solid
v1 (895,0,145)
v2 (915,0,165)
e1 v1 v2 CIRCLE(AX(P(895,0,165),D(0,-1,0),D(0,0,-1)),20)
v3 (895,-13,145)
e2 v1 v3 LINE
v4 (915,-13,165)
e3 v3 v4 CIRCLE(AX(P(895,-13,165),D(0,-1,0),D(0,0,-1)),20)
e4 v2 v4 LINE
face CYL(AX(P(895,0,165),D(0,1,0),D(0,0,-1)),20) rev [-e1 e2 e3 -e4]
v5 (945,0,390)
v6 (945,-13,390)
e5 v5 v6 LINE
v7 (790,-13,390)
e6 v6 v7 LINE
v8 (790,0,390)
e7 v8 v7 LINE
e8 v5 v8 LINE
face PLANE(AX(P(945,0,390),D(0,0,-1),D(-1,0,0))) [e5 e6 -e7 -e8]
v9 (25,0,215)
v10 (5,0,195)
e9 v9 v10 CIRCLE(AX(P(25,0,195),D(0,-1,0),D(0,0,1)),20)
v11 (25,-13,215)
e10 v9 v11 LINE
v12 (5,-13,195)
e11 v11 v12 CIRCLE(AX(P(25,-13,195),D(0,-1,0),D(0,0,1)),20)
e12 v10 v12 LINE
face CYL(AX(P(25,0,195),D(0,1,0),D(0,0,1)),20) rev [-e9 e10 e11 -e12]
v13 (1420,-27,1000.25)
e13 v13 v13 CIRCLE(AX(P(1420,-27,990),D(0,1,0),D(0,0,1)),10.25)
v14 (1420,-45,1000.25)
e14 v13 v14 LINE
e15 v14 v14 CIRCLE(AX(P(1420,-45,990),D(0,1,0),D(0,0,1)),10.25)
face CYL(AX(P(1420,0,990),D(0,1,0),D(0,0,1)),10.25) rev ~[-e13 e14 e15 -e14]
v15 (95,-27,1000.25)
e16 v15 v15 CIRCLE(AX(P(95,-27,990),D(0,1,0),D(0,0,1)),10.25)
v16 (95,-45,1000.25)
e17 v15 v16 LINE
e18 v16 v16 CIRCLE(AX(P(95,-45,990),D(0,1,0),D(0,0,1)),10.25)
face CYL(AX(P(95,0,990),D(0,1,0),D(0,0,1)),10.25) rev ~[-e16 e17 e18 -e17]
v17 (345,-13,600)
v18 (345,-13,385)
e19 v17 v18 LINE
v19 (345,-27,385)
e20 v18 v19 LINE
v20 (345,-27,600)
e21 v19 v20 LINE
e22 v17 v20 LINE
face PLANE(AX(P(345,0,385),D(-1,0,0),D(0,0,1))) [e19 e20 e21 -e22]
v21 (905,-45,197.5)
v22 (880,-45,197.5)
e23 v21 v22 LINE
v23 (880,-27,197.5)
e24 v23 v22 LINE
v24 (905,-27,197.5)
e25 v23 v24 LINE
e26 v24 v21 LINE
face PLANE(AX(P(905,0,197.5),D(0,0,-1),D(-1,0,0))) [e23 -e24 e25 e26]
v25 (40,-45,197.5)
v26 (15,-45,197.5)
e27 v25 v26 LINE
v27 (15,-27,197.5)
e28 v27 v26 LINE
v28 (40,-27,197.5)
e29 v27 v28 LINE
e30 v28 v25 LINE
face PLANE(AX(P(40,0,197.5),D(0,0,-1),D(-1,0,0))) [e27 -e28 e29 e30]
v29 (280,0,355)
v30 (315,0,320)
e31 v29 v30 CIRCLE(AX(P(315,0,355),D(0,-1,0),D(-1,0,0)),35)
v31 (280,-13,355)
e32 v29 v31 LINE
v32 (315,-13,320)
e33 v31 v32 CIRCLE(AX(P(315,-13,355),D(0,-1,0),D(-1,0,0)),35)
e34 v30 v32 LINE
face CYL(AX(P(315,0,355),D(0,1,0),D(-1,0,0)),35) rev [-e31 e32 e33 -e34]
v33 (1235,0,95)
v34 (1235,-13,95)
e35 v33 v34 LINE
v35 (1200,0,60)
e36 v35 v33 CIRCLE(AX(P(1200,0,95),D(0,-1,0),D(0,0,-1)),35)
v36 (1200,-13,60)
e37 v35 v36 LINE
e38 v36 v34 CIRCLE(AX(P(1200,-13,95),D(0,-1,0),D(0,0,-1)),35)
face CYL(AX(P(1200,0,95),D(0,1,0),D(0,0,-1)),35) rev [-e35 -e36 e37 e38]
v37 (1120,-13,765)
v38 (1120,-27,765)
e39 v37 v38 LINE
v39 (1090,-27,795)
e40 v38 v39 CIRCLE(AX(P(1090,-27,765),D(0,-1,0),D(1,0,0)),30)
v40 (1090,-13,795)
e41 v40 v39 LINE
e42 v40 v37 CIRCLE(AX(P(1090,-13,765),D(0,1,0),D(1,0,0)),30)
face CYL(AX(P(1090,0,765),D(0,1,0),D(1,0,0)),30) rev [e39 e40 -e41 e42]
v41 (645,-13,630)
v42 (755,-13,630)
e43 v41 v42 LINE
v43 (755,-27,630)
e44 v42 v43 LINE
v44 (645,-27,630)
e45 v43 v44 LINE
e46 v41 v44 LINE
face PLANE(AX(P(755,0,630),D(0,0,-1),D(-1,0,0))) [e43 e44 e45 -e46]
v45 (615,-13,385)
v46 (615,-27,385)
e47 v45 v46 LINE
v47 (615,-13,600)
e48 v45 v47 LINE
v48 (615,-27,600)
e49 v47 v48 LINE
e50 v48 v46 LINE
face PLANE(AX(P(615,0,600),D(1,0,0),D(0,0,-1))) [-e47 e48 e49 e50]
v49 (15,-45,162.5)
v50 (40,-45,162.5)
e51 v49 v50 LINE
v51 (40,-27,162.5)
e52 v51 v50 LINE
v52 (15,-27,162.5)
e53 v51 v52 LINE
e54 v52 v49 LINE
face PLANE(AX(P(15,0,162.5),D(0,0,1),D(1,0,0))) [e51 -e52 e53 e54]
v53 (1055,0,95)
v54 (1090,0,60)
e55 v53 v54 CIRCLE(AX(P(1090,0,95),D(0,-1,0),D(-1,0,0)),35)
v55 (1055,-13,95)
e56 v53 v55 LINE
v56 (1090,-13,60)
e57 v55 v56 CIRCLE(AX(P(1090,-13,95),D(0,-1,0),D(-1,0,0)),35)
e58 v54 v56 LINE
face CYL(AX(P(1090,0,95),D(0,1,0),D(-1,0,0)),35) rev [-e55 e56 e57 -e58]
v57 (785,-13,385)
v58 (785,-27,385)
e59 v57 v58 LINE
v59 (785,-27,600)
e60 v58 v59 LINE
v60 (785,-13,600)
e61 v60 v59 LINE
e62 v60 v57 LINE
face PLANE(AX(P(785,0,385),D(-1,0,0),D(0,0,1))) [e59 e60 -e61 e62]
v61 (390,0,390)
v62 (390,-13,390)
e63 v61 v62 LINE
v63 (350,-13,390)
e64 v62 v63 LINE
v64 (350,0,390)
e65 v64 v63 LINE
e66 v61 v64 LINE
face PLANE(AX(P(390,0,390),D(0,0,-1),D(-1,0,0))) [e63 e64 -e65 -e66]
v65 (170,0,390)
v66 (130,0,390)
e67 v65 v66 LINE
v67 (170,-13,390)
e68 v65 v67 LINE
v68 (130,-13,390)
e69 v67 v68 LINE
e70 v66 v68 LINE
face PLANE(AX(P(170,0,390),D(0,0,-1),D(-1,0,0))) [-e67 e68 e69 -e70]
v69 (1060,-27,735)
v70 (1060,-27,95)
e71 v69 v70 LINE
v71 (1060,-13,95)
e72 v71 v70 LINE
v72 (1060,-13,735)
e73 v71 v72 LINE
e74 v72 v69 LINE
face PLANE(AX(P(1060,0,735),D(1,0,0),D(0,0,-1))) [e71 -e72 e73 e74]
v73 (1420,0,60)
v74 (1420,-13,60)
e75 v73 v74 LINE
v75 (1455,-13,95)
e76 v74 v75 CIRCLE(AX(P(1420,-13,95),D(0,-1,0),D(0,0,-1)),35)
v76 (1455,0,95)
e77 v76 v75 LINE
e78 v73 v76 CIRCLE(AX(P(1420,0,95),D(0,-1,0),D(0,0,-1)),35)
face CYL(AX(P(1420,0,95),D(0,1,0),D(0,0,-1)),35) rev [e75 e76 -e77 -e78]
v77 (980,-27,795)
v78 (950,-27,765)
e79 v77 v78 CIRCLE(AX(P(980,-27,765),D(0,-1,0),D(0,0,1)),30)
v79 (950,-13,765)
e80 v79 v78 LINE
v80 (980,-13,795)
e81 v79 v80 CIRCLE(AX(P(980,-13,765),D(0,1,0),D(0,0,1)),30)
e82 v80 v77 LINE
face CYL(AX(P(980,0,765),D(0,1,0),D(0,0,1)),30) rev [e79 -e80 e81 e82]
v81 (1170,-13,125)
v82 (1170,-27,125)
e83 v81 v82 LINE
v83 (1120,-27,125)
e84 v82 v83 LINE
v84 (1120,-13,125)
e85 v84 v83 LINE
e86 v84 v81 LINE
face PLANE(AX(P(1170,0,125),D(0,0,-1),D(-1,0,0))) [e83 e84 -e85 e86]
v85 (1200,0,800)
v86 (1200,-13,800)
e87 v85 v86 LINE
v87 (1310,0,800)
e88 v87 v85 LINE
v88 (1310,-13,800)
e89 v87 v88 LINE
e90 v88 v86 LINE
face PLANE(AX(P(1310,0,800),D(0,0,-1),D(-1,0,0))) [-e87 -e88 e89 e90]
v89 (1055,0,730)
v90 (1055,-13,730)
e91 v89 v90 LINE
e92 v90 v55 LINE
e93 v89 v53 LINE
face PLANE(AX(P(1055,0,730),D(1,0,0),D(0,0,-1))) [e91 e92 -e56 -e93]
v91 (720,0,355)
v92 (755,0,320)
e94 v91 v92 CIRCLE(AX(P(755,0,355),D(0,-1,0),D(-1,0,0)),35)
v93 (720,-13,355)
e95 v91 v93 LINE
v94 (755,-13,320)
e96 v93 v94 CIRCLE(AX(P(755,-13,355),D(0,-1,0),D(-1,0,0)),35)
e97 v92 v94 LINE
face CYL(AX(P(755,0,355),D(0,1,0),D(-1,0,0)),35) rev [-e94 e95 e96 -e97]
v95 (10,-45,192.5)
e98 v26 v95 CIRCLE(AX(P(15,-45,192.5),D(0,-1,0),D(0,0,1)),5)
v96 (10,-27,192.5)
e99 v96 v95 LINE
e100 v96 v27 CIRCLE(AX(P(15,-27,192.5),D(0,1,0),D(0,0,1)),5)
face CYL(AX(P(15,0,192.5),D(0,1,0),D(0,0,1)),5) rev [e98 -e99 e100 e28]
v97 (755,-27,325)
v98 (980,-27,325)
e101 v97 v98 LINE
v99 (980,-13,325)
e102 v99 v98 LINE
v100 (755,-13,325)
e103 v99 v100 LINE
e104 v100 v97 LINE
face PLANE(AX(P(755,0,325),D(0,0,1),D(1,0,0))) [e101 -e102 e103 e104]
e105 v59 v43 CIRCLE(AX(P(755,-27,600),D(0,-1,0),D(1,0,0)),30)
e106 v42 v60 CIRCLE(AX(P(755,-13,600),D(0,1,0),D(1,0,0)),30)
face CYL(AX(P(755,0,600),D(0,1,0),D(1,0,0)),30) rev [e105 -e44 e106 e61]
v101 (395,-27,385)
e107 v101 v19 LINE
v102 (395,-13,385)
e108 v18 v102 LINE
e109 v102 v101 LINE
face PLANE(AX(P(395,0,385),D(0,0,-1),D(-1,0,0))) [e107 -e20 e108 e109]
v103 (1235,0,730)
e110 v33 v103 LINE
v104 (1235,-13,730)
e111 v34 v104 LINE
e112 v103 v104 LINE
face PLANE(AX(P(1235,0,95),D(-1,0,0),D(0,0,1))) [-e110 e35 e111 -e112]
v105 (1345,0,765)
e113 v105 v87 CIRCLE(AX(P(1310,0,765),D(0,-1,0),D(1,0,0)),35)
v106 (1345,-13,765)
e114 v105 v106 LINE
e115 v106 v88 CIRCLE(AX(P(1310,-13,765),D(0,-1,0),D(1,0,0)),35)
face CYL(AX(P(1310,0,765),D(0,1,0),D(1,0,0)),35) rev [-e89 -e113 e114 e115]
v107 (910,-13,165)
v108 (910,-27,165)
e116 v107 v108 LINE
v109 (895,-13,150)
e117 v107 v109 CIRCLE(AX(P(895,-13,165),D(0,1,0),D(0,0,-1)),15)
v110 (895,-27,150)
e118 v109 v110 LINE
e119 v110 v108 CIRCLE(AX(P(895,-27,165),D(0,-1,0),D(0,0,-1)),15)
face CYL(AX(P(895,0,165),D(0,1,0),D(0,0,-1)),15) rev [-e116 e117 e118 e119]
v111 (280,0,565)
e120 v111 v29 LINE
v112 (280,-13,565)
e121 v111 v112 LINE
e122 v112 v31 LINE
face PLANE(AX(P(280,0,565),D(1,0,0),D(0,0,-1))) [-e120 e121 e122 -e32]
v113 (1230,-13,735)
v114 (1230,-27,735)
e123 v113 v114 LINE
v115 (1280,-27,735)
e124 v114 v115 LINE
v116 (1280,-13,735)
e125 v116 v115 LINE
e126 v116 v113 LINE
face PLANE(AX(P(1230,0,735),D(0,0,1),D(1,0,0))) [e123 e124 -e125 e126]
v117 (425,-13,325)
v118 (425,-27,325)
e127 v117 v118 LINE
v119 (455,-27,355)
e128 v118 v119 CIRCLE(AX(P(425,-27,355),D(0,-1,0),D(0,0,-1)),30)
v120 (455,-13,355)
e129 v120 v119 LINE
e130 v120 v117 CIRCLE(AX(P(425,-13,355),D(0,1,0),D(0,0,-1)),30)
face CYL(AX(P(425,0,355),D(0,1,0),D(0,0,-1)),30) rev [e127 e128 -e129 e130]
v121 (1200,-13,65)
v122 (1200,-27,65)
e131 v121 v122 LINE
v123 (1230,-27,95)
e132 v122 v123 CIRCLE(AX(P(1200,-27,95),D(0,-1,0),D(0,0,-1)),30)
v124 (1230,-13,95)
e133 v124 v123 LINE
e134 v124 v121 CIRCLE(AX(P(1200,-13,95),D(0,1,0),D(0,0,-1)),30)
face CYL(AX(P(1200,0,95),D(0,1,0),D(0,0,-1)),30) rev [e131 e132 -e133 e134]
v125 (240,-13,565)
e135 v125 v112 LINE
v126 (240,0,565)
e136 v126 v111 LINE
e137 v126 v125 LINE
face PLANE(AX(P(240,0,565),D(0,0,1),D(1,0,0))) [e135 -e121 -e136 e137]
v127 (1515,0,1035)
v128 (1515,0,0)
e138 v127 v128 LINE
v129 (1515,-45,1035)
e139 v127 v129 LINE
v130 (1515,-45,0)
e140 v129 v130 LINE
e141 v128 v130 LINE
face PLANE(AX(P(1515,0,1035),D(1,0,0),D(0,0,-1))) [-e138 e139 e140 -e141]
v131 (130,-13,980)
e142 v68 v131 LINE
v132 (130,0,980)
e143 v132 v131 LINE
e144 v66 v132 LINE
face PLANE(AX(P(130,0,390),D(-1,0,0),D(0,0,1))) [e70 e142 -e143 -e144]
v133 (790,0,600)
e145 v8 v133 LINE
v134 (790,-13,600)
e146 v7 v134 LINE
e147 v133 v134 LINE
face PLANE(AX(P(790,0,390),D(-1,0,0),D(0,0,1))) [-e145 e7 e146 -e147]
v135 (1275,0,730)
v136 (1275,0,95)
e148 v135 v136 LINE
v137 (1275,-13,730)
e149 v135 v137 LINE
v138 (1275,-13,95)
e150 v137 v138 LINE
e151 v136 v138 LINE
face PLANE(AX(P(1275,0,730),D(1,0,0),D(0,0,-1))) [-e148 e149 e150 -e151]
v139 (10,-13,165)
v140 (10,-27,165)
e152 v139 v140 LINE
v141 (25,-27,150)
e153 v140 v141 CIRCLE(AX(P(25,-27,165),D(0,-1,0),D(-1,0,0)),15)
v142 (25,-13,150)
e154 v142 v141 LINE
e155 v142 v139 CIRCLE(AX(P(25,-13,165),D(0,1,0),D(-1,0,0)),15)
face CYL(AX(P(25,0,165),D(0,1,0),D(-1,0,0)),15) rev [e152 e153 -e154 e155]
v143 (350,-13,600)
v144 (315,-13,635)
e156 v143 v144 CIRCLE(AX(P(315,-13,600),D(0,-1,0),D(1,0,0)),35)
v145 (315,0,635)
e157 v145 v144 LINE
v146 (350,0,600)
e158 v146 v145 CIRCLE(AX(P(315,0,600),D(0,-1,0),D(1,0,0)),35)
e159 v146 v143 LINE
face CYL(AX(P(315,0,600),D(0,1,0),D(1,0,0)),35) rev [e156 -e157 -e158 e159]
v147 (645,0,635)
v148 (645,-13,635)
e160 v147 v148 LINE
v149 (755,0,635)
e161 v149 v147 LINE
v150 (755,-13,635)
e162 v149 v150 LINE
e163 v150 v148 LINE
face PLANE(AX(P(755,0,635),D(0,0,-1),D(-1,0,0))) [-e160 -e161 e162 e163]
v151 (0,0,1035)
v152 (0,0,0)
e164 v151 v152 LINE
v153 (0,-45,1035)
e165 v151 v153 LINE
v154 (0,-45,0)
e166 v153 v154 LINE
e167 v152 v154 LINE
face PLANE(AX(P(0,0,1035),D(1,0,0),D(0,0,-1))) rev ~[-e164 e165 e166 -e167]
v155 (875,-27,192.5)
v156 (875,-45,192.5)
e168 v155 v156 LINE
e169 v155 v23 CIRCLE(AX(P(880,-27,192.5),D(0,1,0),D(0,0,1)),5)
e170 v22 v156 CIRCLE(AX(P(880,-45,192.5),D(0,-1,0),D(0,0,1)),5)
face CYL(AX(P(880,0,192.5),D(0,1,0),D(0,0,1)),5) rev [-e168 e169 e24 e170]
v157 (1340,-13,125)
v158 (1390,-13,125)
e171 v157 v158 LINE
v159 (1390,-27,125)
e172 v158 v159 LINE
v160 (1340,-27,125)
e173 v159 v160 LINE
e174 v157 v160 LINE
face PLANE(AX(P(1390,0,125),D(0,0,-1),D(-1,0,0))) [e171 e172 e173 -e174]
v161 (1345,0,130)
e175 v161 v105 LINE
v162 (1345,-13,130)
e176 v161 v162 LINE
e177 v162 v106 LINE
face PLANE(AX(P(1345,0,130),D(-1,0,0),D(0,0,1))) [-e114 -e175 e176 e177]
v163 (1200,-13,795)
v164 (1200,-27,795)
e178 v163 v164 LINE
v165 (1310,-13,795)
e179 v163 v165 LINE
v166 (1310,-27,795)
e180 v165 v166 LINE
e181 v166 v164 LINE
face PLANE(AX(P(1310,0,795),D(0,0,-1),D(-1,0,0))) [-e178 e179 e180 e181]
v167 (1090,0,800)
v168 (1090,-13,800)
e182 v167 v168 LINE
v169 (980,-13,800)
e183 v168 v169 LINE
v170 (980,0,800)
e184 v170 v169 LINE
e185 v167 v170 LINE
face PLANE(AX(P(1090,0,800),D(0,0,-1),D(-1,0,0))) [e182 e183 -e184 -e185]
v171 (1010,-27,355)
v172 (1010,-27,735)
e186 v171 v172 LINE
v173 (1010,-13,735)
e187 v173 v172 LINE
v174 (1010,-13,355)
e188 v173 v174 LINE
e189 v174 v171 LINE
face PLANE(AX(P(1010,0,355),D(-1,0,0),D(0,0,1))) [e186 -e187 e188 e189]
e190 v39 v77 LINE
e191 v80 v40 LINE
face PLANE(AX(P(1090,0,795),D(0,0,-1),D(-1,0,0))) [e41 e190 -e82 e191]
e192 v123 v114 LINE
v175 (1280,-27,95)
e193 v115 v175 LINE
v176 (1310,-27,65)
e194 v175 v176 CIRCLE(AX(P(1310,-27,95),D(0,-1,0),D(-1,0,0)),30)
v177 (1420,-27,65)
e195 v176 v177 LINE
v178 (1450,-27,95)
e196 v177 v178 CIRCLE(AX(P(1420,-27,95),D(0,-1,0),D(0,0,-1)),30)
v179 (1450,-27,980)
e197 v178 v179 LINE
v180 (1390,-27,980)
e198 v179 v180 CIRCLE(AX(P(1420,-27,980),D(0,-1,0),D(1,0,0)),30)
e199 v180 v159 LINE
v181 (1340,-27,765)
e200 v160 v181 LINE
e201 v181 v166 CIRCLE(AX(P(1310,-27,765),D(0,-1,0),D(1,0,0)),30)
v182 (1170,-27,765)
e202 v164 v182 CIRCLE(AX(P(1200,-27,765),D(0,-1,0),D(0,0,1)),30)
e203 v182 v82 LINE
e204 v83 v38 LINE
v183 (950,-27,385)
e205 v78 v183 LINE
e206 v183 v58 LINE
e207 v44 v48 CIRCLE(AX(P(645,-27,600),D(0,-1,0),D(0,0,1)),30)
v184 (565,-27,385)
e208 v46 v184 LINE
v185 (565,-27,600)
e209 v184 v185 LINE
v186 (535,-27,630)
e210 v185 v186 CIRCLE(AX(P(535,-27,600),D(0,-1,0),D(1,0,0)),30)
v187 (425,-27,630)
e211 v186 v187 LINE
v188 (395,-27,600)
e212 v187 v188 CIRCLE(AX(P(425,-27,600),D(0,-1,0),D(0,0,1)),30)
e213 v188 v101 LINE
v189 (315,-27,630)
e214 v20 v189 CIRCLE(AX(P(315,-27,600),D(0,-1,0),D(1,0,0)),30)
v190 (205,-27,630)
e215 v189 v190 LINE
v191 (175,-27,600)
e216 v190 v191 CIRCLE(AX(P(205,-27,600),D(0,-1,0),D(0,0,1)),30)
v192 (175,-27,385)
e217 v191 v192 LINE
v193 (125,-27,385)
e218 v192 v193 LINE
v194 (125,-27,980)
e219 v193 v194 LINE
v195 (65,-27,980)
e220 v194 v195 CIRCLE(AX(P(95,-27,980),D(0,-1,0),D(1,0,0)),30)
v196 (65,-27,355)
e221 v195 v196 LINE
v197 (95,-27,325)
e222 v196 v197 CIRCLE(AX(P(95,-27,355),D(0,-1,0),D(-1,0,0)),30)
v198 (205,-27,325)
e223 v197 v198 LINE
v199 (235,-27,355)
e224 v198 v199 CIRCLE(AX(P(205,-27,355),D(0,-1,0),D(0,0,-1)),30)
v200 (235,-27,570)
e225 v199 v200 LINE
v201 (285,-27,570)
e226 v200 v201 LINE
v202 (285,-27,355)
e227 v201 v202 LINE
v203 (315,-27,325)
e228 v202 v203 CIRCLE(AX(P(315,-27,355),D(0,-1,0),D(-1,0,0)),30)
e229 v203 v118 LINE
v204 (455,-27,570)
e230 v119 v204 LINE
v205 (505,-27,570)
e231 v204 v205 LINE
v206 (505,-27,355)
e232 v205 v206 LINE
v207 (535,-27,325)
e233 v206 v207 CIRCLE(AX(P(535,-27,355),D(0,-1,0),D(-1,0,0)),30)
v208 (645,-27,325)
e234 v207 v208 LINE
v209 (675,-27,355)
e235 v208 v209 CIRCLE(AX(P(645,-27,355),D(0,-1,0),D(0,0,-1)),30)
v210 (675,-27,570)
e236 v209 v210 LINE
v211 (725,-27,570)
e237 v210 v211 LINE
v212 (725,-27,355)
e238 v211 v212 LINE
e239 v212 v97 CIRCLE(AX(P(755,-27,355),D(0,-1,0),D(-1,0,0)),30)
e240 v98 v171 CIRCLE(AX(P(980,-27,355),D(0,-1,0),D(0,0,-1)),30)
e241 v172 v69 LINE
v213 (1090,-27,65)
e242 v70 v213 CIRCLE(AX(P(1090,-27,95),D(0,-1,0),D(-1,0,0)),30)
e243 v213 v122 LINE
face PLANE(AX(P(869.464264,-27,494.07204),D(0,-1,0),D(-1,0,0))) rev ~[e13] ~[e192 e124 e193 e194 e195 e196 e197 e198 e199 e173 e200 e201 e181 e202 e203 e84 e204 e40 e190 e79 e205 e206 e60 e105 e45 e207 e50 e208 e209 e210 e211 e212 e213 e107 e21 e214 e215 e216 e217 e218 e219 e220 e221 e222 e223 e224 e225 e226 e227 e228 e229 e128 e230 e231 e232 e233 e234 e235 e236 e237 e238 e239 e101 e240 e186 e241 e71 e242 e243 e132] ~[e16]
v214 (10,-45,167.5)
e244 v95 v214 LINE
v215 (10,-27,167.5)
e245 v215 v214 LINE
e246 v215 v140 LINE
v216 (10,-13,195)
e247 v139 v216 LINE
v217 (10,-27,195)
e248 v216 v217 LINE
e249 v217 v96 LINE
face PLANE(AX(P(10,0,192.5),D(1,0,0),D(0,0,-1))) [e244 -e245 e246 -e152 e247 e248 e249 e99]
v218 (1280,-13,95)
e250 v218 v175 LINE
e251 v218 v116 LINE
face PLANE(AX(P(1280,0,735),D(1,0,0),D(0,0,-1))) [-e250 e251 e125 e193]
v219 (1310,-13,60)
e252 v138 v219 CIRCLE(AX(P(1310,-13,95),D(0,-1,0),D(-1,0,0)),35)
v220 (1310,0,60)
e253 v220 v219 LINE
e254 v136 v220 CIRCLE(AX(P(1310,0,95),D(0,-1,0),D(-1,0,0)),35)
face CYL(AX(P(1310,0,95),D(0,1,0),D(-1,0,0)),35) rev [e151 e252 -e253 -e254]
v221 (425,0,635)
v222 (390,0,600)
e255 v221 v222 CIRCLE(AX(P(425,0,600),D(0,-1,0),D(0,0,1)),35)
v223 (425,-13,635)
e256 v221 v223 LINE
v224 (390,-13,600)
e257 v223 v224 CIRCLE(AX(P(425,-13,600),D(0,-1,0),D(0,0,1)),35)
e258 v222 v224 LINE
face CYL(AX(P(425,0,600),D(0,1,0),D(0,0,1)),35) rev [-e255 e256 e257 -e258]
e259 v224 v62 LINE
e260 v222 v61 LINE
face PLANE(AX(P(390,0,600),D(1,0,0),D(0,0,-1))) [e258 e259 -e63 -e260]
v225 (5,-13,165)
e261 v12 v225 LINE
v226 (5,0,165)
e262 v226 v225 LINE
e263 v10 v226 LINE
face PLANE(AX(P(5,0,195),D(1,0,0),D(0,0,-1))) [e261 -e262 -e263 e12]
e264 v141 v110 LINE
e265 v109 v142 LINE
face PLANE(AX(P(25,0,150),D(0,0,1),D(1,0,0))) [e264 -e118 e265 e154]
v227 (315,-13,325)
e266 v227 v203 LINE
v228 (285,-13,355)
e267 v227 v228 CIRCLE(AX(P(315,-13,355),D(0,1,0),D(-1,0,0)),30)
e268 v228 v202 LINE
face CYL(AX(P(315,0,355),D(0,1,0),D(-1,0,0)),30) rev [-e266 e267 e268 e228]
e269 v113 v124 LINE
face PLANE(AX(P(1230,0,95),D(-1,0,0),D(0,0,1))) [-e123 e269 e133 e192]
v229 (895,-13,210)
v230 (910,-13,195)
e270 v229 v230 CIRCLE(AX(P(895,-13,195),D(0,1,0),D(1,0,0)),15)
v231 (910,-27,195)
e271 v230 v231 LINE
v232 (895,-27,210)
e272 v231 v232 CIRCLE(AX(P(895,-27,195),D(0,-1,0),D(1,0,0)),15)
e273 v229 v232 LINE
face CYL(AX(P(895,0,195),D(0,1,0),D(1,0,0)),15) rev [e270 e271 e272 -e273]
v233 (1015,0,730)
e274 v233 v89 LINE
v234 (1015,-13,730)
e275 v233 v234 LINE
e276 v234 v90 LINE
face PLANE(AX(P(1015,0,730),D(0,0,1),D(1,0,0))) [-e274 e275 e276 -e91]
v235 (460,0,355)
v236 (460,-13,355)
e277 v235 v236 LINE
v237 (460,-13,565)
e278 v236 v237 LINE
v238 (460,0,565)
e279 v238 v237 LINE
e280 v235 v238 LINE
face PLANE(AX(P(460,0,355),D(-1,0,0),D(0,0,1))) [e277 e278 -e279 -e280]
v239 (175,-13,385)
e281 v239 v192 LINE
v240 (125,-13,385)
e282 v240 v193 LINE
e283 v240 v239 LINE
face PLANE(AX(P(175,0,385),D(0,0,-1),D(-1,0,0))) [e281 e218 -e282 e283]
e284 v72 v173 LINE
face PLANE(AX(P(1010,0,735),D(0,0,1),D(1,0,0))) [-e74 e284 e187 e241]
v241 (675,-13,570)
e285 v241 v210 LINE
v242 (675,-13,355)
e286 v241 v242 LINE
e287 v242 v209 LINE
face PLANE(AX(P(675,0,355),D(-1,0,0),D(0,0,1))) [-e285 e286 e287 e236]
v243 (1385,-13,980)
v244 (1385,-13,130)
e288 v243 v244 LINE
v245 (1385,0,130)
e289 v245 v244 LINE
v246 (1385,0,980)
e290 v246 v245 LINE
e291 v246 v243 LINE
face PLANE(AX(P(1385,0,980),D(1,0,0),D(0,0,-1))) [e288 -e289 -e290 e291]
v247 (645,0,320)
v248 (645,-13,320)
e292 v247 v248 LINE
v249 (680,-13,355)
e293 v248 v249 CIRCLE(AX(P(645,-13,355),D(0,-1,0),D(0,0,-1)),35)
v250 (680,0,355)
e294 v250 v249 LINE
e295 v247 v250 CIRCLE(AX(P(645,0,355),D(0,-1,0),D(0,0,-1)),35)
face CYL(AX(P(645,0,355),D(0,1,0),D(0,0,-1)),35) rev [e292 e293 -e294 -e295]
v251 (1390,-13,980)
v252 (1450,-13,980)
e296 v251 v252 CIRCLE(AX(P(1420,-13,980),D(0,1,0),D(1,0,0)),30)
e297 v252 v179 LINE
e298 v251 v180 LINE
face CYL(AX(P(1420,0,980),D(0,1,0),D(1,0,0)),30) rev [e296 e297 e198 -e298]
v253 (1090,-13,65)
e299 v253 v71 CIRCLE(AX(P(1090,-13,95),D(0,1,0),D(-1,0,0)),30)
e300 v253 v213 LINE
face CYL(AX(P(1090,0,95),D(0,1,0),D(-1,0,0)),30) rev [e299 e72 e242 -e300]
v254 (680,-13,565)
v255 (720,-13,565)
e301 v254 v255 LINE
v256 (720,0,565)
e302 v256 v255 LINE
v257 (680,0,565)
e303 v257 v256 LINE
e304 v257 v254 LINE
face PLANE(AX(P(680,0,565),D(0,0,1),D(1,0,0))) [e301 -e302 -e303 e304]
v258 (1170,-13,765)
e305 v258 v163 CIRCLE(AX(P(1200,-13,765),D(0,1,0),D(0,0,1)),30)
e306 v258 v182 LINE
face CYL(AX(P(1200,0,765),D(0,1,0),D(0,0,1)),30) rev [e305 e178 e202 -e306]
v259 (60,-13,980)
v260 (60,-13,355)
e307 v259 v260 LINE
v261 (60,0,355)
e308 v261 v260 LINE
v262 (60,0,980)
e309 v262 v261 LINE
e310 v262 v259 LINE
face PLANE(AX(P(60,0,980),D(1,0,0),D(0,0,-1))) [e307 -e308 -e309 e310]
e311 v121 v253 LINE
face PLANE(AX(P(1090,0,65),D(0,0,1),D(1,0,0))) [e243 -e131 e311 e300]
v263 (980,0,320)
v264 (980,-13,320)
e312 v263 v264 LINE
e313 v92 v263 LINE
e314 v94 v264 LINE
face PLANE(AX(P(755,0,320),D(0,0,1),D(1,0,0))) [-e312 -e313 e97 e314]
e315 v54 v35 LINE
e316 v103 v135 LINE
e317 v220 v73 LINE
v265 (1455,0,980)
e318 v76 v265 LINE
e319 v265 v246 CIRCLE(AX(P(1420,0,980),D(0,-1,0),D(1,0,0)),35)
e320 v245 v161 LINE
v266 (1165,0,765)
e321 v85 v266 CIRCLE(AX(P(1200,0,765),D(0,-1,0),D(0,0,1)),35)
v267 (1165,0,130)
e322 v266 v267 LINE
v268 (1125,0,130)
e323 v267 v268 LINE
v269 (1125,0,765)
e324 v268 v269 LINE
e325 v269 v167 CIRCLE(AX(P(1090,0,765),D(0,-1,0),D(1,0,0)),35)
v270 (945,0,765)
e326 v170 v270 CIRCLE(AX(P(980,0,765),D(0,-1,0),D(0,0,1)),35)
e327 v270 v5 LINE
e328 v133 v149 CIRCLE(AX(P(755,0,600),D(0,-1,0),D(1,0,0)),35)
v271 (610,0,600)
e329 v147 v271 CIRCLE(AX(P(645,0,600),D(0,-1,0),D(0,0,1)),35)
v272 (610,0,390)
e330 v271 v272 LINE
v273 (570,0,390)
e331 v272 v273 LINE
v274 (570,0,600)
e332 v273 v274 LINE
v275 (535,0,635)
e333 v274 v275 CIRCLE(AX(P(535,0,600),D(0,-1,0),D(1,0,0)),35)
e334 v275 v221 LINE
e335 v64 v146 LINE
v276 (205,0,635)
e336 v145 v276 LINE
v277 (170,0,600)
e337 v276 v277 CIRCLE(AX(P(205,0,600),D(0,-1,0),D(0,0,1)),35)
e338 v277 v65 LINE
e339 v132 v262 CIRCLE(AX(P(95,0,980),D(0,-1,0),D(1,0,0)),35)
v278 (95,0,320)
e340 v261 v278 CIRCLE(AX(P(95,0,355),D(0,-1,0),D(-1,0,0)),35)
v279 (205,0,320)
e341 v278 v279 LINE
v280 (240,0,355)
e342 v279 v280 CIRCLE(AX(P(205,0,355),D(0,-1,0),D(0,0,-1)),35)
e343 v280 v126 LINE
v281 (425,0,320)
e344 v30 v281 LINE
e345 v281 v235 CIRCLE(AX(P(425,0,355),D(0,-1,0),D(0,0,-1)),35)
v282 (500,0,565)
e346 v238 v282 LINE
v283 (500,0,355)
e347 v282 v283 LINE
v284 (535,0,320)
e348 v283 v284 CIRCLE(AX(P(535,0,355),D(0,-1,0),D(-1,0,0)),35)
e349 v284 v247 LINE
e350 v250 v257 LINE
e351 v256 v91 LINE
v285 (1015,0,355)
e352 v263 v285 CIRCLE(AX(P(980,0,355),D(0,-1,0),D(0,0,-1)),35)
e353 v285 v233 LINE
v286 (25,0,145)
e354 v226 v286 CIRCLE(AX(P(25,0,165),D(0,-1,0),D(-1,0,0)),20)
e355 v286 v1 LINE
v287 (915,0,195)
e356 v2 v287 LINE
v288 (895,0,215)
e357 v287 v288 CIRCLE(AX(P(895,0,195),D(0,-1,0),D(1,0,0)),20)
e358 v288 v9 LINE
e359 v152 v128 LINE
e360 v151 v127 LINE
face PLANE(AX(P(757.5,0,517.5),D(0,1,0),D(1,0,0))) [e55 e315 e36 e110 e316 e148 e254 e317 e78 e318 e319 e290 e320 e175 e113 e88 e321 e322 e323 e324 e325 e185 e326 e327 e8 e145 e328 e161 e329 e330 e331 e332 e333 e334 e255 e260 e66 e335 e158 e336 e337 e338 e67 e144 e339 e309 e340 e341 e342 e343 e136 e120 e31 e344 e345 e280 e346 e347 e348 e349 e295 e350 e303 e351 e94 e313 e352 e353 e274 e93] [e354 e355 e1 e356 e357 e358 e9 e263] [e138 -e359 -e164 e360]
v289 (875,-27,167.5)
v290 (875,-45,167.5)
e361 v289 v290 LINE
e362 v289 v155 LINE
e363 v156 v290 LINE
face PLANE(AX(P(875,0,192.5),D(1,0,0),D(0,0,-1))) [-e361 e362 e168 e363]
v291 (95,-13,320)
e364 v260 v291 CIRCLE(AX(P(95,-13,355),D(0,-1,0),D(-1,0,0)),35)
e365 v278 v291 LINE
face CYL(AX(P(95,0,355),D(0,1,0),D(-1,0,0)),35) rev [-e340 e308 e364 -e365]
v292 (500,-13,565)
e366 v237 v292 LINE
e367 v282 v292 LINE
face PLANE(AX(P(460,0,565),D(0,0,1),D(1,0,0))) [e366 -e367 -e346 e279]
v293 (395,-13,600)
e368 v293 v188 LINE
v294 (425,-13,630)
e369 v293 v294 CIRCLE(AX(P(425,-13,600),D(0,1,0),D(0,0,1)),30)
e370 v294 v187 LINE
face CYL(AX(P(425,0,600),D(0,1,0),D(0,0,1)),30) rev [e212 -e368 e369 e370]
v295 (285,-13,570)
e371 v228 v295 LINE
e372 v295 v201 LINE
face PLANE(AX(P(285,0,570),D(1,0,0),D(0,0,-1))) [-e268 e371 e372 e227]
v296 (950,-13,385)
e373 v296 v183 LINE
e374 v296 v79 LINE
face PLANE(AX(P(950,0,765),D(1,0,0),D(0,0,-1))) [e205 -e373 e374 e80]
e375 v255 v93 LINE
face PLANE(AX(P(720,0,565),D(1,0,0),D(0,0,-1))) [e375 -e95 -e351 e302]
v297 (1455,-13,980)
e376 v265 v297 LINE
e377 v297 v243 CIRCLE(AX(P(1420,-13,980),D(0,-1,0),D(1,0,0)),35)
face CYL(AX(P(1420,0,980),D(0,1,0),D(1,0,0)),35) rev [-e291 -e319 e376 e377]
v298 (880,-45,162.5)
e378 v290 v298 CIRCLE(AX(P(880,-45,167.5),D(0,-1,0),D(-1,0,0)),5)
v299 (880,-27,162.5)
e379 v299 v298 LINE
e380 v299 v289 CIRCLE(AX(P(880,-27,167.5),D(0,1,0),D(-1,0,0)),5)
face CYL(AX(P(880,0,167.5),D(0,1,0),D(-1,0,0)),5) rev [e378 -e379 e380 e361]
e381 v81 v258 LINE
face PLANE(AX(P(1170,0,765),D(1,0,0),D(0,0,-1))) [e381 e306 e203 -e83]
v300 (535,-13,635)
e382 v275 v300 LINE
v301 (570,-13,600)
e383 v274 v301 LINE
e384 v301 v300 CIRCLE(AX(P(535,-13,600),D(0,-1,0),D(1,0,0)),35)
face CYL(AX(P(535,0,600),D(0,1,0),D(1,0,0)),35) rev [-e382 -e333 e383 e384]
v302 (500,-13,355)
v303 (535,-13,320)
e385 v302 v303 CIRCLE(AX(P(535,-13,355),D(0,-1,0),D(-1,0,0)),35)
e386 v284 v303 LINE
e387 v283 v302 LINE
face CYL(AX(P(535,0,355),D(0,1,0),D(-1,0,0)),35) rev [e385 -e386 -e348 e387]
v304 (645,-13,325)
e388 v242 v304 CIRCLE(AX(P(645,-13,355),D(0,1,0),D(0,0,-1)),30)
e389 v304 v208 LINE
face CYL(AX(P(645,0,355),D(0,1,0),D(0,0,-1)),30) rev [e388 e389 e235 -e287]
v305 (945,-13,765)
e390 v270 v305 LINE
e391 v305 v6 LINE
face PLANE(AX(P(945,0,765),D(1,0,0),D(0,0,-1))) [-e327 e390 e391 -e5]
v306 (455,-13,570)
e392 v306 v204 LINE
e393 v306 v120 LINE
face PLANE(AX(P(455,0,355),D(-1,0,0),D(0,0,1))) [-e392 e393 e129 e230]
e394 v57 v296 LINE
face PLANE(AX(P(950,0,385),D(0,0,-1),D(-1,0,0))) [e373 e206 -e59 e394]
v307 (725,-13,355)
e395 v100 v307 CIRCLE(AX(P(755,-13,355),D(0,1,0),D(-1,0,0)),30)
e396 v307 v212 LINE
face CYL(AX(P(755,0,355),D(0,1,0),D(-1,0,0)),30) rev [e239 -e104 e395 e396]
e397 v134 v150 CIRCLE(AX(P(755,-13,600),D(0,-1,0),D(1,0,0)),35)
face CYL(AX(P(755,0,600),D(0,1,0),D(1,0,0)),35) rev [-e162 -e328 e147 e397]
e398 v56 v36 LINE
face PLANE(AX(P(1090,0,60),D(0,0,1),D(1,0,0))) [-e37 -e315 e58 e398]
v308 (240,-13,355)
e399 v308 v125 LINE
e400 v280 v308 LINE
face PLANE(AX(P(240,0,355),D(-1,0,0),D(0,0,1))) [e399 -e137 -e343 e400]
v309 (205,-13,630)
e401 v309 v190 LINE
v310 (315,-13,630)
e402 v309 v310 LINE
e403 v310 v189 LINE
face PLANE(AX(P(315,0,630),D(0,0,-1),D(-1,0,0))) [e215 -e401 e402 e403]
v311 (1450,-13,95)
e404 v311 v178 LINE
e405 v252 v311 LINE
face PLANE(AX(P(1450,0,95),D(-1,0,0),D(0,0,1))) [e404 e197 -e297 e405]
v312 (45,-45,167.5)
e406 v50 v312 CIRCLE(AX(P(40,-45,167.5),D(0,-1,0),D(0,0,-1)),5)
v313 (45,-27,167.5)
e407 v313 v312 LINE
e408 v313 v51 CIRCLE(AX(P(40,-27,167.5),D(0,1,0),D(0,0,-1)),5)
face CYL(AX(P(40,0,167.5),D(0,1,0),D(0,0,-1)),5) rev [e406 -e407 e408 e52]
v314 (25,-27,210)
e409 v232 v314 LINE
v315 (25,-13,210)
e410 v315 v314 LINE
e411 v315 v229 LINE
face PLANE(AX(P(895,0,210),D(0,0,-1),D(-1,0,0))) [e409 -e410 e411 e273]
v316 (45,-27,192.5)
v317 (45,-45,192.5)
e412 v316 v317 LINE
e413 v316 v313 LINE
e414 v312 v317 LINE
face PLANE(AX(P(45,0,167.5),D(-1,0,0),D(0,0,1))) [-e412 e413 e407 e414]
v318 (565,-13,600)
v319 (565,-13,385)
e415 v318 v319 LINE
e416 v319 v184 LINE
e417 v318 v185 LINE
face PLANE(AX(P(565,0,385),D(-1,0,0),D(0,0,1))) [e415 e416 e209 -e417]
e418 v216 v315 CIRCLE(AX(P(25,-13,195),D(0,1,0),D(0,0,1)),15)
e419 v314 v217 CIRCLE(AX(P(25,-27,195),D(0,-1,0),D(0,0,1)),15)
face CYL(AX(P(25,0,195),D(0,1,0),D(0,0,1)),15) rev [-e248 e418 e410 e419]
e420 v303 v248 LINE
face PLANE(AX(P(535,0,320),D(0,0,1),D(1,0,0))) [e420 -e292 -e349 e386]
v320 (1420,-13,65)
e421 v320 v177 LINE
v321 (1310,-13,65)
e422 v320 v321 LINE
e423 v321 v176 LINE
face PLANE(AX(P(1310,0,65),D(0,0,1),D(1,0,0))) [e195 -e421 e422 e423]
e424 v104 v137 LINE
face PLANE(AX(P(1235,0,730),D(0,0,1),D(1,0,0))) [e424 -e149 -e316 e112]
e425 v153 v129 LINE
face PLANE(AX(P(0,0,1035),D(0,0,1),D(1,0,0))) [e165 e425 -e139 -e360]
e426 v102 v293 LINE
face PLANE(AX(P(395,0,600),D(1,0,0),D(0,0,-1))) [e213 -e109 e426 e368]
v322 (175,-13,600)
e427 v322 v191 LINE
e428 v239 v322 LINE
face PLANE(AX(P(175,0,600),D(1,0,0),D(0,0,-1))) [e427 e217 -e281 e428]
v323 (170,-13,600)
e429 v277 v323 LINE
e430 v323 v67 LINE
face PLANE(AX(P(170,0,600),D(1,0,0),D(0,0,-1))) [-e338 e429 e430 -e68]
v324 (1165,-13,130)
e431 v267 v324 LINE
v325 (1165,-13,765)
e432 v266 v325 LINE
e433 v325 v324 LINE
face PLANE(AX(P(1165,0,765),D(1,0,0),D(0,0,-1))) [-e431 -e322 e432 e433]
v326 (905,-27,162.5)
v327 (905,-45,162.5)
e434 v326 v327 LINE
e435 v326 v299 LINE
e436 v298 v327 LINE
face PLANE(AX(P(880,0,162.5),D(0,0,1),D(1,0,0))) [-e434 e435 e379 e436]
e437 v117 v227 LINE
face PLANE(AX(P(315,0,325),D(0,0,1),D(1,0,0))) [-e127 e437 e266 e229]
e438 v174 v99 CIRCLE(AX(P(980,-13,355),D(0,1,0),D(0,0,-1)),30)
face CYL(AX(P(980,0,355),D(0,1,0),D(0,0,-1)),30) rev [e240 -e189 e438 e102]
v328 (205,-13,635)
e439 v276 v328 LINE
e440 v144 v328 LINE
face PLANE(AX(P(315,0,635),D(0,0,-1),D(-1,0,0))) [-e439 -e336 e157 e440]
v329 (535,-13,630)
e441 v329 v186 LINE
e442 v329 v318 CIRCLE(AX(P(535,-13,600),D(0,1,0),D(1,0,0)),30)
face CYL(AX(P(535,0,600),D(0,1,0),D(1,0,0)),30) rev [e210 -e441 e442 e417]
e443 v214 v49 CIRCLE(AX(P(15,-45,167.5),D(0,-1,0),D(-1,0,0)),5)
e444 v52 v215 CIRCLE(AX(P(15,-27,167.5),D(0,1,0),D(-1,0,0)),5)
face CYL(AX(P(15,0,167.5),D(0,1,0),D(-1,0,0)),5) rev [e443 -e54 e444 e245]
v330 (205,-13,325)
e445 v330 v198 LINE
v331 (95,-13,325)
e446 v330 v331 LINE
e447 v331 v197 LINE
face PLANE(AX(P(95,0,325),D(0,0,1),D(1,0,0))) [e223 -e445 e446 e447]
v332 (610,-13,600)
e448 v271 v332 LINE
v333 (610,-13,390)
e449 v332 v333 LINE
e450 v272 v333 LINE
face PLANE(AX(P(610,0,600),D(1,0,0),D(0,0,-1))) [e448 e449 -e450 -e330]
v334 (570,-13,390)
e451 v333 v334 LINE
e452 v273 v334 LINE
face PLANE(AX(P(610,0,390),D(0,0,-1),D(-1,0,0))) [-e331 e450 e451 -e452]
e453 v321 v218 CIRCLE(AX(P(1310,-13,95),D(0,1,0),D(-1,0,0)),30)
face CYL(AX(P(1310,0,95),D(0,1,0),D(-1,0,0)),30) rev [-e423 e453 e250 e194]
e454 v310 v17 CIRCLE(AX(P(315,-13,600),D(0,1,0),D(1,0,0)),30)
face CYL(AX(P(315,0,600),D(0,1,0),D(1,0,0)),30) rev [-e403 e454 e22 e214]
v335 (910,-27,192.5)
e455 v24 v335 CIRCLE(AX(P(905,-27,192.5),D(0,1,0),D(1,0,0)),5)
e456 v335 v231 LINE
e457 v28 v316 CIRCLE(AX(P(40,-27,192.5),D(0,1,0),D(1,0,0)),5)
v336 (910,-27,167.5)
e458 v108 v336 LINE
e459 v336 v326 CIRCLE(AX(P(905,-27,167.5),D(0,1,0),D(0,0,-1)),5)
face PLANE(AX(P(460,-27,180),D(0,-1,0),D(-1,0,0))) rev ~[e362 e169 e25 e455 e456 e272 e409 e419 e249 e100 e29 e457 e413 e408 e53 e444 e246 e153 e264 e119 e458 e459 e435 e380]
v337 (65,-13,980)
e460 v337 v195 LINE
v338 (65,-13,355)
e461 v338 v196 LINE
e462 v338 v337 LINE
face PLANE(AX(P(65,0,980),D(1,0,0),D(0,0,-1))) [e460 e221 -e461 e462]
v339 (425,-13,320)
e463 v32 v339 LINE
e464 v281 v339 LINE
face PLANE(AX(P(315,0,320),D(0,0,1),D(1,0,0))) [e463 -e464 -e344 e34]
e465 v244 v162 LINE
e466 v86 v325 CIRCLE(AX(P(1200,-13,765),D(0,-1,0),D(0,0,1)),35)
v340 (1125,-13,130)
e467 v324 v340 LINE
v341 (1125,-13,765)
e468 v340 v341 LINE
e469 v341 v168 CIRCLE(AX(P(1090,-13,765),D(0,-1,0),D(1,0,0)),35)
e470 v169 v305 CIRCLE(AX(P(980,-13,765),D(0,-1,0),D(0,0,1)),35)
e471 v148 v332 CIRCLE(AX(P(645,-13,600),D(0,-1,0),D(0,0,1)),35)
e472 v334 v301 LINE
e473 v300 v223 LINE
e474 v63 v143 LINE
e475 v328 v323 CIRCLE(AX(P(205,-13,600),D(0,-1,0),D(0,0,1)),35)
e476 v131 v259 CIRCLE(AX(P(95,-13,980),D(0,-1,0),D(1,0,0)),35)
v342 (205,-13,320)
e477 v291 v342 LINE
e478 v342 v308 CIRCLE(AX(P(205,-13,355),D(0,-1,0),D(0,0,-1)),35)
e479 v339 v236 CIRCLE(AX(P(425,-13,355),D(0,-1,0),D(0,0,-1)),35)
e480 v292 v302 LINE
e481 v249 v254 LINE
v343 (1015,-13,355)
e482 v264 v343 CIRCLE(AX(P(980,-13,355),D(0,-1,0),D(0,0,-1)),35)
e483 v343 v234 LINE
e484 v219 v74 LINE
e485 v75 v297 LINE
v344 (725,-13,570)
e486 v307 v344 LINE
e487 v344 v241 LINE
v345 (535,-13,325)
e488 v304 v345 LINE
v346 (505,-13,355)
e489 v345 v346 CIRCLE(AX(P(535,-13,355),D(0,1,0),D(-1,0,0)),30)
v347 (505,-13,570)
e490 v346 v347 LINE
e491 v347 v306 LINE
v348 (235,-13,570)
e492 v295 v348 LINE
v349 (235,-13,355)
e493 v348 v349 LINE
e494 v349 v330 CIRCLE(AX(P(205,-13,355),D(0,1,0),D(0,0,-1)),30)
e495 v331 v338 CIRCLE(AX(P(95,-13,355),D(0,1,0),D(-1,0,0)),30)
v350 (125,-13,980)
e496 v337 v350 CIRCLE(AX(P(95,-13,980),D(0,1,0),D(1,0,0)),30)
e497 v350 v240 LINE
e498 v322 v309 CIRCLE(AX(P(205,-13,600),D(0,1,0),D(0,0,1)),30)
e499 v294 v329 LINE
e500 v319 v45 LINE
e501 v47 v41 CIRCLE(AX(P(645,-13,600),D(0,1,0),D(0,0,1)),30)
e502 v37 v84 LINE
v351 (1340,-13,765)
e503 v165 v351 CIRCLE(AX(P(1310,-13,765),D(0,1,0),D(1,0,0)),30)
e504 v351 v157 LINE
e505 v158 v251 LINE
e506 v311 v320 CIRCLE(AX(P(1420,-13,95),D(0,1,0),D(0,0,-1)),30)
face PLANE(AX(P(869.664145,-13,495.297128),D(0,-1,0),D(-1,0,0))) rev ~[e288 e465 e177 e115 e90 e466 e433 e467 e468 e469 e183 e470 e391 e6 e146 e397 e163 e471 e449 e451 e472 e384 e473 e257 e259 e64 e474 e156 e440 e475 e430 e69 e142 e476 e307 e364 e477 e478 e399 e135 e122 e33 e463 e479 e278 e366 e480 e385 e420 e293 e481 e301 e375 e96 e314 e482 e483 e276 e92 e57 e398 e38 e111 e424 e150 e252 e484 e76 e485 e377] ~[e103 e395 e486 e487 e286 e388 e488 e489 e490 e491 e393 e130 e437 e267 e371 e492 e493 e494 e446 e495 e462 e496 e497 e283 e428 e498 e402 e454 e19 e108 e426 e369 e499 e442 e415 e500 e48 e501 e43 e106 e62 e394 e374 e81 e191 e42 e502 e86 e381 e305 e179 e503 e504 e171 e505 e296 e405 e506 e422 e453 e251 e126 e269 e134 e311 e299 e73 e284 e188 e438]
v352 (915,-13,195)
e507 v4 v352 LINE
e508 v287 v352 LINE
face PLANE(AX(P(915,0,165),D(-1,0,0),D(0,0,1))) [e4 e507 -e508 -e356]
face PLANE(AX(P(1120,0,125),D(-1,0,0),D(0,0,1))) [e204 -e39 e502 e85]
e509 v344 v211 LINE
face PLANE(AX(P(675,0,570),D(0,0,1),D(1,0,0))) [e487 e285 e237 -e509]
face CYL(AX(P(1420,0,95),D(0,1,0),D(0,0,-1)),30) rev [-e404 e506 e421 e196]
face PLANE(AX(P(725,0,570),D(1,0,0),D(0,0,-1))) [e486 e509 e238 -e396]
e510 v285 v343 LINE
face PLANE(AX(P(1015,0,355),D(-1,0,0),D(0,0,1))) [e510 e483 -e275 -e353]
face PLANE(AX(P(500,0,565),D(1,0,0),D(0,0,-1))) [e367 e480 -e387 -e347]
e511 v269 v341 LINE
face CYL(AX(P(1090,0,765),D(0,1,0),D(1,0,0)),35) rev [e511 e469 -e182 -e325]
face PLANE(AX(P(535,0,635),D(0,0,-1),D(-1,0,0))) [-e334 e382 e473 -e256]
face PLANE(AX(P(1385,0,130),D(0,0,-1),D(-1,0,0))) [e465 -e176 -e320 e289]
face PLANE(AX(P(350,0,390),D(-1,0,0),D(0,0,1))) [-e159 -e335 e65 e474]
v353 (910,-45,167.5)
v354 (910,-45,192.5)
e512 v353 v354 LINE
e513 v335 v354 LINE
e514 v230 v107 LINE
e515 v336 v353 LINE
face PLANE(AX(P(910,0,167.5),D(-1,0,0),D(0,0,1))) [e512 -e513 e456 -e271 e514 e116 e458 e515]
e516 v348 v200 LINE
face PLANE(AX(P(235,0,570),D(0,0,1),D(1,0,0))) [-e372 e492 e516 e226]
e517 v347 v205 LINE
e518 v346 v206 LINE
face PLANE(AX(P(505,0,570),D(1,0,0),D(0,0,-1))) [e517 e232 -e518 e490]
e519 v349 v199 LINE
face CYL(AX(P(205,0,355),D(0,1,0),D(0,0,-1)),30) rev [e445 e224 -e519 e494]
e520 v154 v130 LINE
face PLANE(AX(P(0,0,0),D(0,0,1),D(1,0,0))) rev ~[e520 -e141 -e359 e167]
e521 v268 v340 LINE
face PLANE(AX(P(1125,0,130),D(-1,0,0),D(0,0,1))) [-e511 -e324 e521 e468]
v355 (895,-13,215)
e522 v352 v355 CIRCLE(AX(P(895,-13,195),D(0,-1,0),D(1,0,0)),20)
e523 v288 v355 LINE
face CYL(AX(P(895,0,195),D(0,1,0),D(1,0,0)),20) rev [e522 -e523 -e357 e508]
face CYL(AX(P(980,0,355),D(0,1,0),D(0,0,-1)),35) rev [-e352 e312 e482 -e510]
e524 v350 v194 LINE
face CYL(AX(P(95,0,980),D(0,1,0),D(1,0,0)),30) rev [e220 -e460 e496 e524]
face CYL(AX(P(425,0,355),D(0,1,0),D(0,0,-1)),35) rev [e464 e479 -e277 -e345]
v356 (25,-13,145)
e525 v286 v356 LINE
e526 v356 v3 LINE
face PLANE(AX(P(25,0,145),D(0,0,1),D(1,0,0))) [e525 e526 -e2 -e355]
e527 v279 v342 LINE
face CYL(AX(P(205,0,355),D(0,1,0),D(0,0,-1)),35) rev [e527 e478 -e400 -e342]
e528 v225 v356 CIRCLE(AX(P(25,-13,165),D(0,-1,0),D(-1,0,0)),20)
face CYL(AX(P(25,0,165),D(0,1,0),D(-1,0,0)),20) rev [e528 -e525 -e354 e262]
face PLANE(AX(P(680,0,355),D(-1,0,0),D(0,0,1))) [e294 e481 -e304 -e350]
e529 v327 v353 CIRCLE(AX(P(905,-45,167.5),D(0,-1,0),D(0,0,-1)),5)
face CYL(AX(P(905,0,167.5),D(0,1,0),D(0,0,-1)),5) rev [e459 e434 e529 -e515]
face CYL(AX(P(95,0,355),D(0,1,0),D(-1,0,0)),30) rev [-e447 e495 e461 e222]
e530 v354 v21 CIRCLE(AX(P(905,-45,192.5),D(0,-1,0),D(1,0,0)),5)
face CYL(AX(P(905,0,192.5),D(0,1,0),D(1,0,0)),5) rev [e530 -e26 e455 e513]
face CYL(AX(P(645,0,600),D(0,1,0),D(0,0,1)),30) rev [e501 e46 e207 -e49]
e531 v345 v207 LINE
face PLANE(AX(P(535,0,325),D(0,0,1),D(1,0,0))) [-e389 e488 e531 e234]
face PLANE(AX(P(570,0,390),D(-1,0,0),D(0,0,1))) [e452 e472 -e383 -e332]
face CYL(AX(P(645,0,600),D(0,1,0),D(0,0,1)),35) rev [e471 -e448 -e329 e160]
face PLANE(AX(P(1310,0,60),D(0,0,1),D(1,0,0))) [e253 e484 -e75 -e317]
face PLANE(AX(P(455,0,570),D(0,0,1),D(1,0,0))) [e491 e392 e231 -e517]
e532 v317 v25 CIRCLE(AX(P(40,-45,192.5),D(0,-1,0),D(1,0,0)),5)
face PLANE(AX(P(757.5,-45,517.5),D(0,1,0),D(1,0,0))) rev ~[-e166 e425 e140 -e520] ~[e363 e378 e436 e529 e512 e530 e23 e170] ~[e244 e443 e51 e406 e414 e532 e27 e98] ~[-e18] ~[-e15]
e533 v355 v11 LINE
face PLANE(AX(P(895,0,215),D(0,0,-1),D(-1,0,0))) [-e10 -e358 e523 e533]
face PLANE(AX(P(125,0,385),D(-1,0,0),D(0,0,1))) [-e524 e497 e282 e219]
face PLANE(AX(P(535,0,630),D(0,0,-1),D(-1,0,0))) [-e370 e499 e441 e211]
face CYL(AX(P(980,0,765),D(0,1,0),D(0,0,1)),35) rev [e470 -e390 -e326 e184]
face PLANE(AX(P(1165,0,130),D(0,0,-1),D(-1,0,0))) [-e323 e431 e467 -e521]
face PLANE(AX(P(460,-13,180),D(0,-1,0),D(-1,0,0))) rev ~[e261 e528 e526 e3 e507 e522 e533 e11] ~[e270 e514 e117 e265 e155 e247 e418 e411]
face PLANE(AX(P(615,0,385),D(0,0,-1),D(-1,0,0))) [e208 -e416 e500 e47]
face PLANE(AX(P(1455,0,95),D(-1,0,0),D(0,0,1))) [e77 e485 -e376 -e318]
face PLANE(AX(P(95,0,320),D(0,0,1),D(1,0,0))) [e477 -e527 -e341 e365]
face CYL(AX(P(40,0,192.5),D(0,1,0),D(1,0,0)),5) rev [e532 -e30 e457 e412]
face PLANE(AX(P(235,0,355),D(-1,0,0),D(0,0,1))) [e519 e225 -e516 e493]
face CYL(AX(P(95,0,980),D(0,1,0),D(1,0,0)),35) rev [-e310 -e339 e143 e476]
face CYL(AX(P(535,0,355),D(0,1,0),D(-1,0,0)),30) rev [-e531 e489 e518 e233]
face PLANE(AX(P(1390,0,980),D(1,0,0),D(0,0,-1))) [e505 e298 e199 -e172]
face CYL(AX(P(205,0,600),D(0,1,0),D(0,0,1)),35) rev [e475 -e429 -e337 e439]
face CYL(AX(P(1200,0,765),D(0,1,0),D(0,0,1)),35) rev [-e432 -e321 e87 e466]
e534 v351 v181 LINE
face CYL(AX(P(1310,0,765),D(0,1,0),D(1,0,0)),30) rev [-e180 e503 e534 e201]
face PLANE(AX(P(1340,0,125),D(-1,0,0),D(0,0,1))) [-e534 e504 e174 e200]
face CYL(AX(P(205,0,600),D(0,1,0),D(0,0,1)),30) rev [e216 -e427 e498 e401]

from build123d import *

# Parameters (mm, degrees)
SKETCH_1_W          = 1515
SKETCH_1_H          = 1035
EXTRUDE_1_DEPTH     = 45
CUT_EXTRUDE_1_DEPTH = 13
CUT_EXTRUDE_2_DEPTH = 27
CUT_EXTRUDE_3_DEPTH = 45
CUT_EXTRUDE_5_DEPTH = 13
CUT_EXTRUDE_6_DEPTH = 27
SKETCH_3_R          = 10.25
CUT_EXTRUDE_7_DEPTH = 45


with BuildPart() as part:
    # 草图1 → 凸台-拉伸1 (new body)
    with BuildSketch(Plane(origin=(0, 0, 0), x_dir=(1, 0, 0), z_dir=(0, 1, 0))):
        with Locations((757.5, -517.5)):
            Rectangle(SKETCH_1_W, SKETCH_1_H)
    extrude(amount=-EXTRUDE_1_DEPTH)

    # 草图1<3> → 切除-拉伸1 (cut)
    with BuildSketch(Plane(origin=(0, 0, 0), x_dir=(1, 0, 0), z_dir=(0, 1, 0))):
        with BuildLine():
            Line((5, -195), (5, -165))
            ThreePointArc((5, -165), (10.857864376, -150.857864376), (25, -145))
            Line((25, -145), (895, -145))
            ThreePointArc((895, -145), (909.142135624, -150.857864376), (915, -165))
            Line((915, -165), (915, -195))
            ThreePointArc((915, -195), (909.142135624, -209.142135624), (895, -215))
            Line((895, -215), (25, -215))
            ThreePointArc((25, -215), (10.857864376, -209.142135624), (5, -195))
        make_face()
    extrude(amount=-CUT_EXTRUDE_1_DEPTH, mode=Mode.SUBTRACT)

    # 草图1<5> → 切除-拉伸2 (cut)
    with BuildSketch(Plane(origin=(0, 0, 0), x_dir=(1, 0, 0), z_dir=(0, 1, 0))):
        with BuildLine():
            Line((25, -150), (895, -150))
            ThreePointArc((895, -150), (905.606601718, -154.393398282), (910, -165))
            Line((910, -165), (910, -195))
            ThreePointArc((910, -195), (905.606601718, -205.606601718), (895, -210))
            Line((895, -210), (25, -210))
            ThreePointArc((25, -210), (14.393398282, -205.606601718), (10, -195))
            Line((10, -195), (10, -165))
            ThreePointArc((10, -165), (14.393398282, -154.393398282), (25, -150))
        make_face()
    extrude(amount=-CUT_EXTRUDE_2_DEPTH, mode=Mode.SUBTRACT)

    # 草图1<6> → 切除-拉伸3 (cut)
    with BuildSketch(Plane(origin=(0, 0, 0), x_dir=(1, 0, 0), z_dir=(0, 1, 0))):
        with BuildLine():
            Line((40, -197.5), (15, -197.5))
            ThreePointArc((15, -197.5), (11.464466094, -196.035533906), (10, -192.5))
            Line((10, -192.5), (10, -167.5))
            ThreePointArc((10, -167.5), (11.464466094, -163.964466094), (15, -162.5))
            Line((15, -162.5), (40, -162.5))
            ThreePointArc((40, -162.5), (43.535533906, -163.964466094), (45, -167.5))
            Line((45, -167.5), (45, -192.5))
            ThreePointArc((45, -192.5), (43.535533906, -196.035533906), (40, -197.5))
        make_face()
        with BuildLine():
            Line((905, -197.5), (880, -197.5))
            ThreePointArc((880, -197.5), (876.464466094, -196.035533906), (875, -192.5))
            Line((875, -192.5), (875, -167.5))
            ThreePointArc((875, -167.5), (876.464466094, -163.964466094), (880, -162.5))
            Line((880, -162.5), (905, -162.5))
            ThreePointArc((905, -162.5), (908.535533906, -163.964466094), (910, -167.5))
            Line((910, -167.5), (910, -192.5))
            ThreePointArc((910, -192.5), (908.535533906, -196.035533906), (905, -197.5))
        make_face()
    extrude(amount=-CUT_EXTRUDE_3_DEPTH, mode=Mode.SUBTRACT)

    # 草图1<9> → 切除-拉伸5 (cut)
    with BuildSketch(Plane(origin=(0, 0, 0), x_dir=(1, 0, 0), z_dir=(0, 1, 0))):
        with BuildLine():
            Line((60, -980), (60, -355))
            ThreePointArc((60, -355), (70.251262658, -330.251262658), (95, -320))
            Line((95, -320), (205, -320))
            ThreePointArc((205, -320), (229.748737342, -330.251262658), (240, -355))
            Line((240, -355), (240, -565))
            Line((240, -565), (280, -565))
            Line((280, -565), (280, -355))
            ThreePointArc((280, -355), (290.251262658, -330.251262658), (315, -320))
            Line((315, -320), (425, -320))
            ThreePointArc((425, -320), (449.748737342, -330.251262658), (460, -355))
            Line((460, -355), (460, -565))
            Line((460, -565), (500, -565))
            Line((500, -565), (500, -355))
            ThreePointArc((500, -355), (510.251262658, -330.251262658), (535, -320))
            Line((535, -320), (645, -320))
            ThreePointArc((645, -320), (669.748737342, -330.251262658), (680, -355))
            Line((680, -355), (680, -565))
            Line((680, -565), (720, -565))
            Line((720, -565), (720, -355))
            ThreePointArc((720, -355), (730.251262658, -330.251262658), (755, -320))
            Line((755, -320), (980, -320))
            ThreePointArc((980, -320), (1004.748737342, -330.251262658), (1015, -355))
            Line((1015, -355), (1015, -730))
            Line((1015, -730), (1055, -730))
            Line((1055, -730), (1055, -95))
            ThreePointArc((1055, -95), (1065.251262658, -70.251262658), (1090, -60))
            Line((1090, -60), (1200, -60))
            ThreePointArc((1200, -60), (1224.748737342, -70.251262658), (1235, -95))
            Line((1235, -95), (1235, -730))
            Line((1235, -730), (1275, -730))
            Line((1275, -730), (1275, -95))
            ThreePointArc((1275, -95), (1285.251262658, -70.251262658), (1310, -60))
            Line((1310, -60), (1420, -60))
            ThreePointArc((1420, -60), (1444.748737342, -70.251262658), (1455, -95))
            Line((1455, -95), (1455, -980))
            ThreePointArc((1455, -980), (1420, -1015), (1385, -980))
            Line((1385, -980), (1385, -130))
            Line((1385, -130), (1345, -130))
            Line((1345, -130), (1345, -765))
            ThreePointArc((1345, -765), (1334.748737342, -789.748737342), (1310, -800))
            Line((1310, -800), (1200, -800))
            ThreePointArc((1200, -800), (1175.251262658, -789.748737342), (1165, -765))
            Line((1165, -765), (1165, -130))
            Line((1165, -130), (1125, -130))
            Line((1125, -130), (1125, -765))
            ThreePointArc((1125, -765), (1114.748737342, -789.748737342), (1090, -800))
            Line((1090, -800), (980, -800))
            ThreePointArc((980, -800), (955.251262658, -789.748737342), (945, -765))
            Line((945, -765), (945, -390))
            Line((945, -390), (790, -390))
            Line((790, -390), (790, -600))
            ThreePointArc((790, -600), (779.748737342, -624.748737342), (755, -635))
            Line((755, -635), (645, -635))
            ThreePointArc((645, -635), (620.251262658, -624.748737342), (610, -600))
            Line((610, -600), (610, -390))
            Line((610, -390), (570, -390))
            Line((570, -390), (570, -600))
            ThreePointArc((570, -600), (559.748737342, -624.748737342), (535, -635))
            Line((535, -635), (425, -635))
            ThreePointArc((425, -635), (400.251262658, -624.748737342), (390, -600))
            Line((390, -600), (390, -390))
            Line((390, -390), (350, -390))
            Line((350, -390), (350, -600))
            ThreePointArc((350, -600), (339.748737342, -624.748737342), (315, -635))
            Line((315, -635), (205, -635))
            ThreePointArc((205, -635), (180.251262658, -624.748737342), (170, -600))
            Line((170, -600), (170, -390))
            Line((170, -390), (130, -390))
            Line((130, -390), (130, -980))
            ThreePointArc((130, -980), (95, -1015), (60, -980))
        make_face()
    extrude(amount=-CUT_EXTRUDE_5_DEPTH, mode=Mode.SUBTRACT)

    # 草图1<10> → 切除-拉伸6 (cut)
    with BuildSketch(Plane(origin=(0, 0, 0), x_dir=(1, 0, 0), z_dir=(0, 1, 0))):
        with BuildLine():
            Line((1390, -980), (1390, -125))
            Line((1390, -125), (1340, -125))
            Line((1340, -125), (1340, -765))
            ThreePointArc((1340, -765), (1331.213203436, -786.213203436), (1310, -795))
            Line((1310, -795), (1200, -795))
            ThreePointArc((1200, -795), (1178.786796564, -786.213203436), (1170, -765))
            Line((1170, -765), (1170, -125))
            Line((1170, -125), (1120, -125))
            Line((1120, -125), (1120, -765))
            ThreePointArc((1120, -765), (1111.213203436, -786.213203436), (1090, -795))
            Line((1090, -795), (980, -795))
            ThreePointArc((980, -795), (958.786796564, -786.213203436), (950, -765))
            Line((950, -765), (950, -385))
            Line((950, -385), (785, -385))
            Line((785, -385), (785, -600))
            ThreePointArc((785, -600), (776.213203436, -621.213203436), (755, -630))
            Line((755, -630), (645, -630))
            ThreePointArc((645, -630), (623.786796564, -621.213203436), (615, -600))
            Line((615, -600), (615, -385))
            Line((615, -385), (565, -385))
            Line((565, -385), (565, -600))
            ThreePointArc((565, -600), (556.213203436, -621.213203436), (535, -630))
            Line((535, -630), (425, -630))
            ThreePointArc((425, -630), (403.786796564, -621.213203436), (395, -600))
            Line((395, -600), (395, -385))
            Line((395, -385), (345, -385))
            Line((345, -385), (345, -600))
            ThreePointArc((345, -600), (336.213203436, -621.213203436), (315, -630))
            Line((315, -630), (205, -630))
            ThreePointArc((205, -630), (183.786796564, -621.213203436), (175, -600))
            Line((175, -600), (175, -385))
            Line((175, -385), (125, -385))
            Line((125, -385), (125, -980))
            ThreePointArc((125, -980), (95, -1010), (65, -980))
            Line((65, -980), (65, -355))
            ThreePointArc((65, -355), (73.786796564, -333.786796564), (95, -325))
            Line((95, -325), (205, -325))
            ThreePointArc((205, -325), (226.213203436, -333.786796564), (235, -355))
            Line((235, -355), (235, -570))
            Line((235, -570), (285, -570))
            Line((285, -570), (285, -355))
            ThreePointArc((285, -355), (293.786796564, -333.786796564), (315, -325))
            Line((315, -325), (425, -325))
            ThreePointArc((425, -325), (446.213203436, -333.786796564), (455, -355))
            Line((455, -355), (455, -570))
            Line((455, -570), (505, -570))
            Line((505, -570), (505, -355))
            ThreePointArc((505, -355), (513.786796564, -333.786796564), (535, -325))
            Line((535, -325), (645, -325))
            ThreePointArc((645, -325), (666.213203436, -333.786796564), (675, -355))
            Line((675, -355), (675, -570))
            Line((675, -570), (725, -570))
            Line((725, -570), (725, -355))
            ThreePointArc((725, -355), (733.786796564, -333.786796564), (755, -325))
            Line((755, -325), (980, -325))
            ThreePointArc((980, -325), (1001.213203436, -333.786796564), (1010, -355))
            Line((1010, -355), (1010, -735))
            Line((1010, -735), (1060, -735))
            Line((1060, -735), (1060, -95))
            ThreePointArc((1060, -95), (1068.786796564, -73.786796564), (1090, -65))
            Line((1090, -65), (1200, -65))
            ThreePointArc((1200, -65), (1221.213203436, -73.786796564), (1230, -95))
            Line((1230, -95), (1230, -735))
            Line((1230, -735), (1280, -735))
            Line((1280, -735), (1280, -95))
            ThreePointArc((1280, -95), (1288.786796564, -73.786796564), (1310, -65))
            Line((1310, -65), (1420, -65))
            ThreePointArc((1420, -65), (1441.213203436, -73.786796564), (1450, -95))
            Line((1450, -95), (1450, -980))
            ThreePointArc((1450, -980), (1420, -1010), (1390, -980))
        make_face()
    extrude(amount=-CUT_EXTRUDE_6_DEPTH, mode=Mode.SUBTRACT)

    # 草图3 → 切除-拉伸7 (cut)
    with BuildSketch(Plane(origin=(0, 0, 0), x_dir=(1, 0, 0), z_dir=(0, 1, 0))):
        with Locations((95, -990)):
            Circle(SKETCH_3_R)
        with Locations((1420, -990)):
            Circle(SKETCH_3_R)
    extrude(amount=-CUT_EXTRUDE_7_DEPTH, mode=Mode.SUBTRACT)


solid = part.part
